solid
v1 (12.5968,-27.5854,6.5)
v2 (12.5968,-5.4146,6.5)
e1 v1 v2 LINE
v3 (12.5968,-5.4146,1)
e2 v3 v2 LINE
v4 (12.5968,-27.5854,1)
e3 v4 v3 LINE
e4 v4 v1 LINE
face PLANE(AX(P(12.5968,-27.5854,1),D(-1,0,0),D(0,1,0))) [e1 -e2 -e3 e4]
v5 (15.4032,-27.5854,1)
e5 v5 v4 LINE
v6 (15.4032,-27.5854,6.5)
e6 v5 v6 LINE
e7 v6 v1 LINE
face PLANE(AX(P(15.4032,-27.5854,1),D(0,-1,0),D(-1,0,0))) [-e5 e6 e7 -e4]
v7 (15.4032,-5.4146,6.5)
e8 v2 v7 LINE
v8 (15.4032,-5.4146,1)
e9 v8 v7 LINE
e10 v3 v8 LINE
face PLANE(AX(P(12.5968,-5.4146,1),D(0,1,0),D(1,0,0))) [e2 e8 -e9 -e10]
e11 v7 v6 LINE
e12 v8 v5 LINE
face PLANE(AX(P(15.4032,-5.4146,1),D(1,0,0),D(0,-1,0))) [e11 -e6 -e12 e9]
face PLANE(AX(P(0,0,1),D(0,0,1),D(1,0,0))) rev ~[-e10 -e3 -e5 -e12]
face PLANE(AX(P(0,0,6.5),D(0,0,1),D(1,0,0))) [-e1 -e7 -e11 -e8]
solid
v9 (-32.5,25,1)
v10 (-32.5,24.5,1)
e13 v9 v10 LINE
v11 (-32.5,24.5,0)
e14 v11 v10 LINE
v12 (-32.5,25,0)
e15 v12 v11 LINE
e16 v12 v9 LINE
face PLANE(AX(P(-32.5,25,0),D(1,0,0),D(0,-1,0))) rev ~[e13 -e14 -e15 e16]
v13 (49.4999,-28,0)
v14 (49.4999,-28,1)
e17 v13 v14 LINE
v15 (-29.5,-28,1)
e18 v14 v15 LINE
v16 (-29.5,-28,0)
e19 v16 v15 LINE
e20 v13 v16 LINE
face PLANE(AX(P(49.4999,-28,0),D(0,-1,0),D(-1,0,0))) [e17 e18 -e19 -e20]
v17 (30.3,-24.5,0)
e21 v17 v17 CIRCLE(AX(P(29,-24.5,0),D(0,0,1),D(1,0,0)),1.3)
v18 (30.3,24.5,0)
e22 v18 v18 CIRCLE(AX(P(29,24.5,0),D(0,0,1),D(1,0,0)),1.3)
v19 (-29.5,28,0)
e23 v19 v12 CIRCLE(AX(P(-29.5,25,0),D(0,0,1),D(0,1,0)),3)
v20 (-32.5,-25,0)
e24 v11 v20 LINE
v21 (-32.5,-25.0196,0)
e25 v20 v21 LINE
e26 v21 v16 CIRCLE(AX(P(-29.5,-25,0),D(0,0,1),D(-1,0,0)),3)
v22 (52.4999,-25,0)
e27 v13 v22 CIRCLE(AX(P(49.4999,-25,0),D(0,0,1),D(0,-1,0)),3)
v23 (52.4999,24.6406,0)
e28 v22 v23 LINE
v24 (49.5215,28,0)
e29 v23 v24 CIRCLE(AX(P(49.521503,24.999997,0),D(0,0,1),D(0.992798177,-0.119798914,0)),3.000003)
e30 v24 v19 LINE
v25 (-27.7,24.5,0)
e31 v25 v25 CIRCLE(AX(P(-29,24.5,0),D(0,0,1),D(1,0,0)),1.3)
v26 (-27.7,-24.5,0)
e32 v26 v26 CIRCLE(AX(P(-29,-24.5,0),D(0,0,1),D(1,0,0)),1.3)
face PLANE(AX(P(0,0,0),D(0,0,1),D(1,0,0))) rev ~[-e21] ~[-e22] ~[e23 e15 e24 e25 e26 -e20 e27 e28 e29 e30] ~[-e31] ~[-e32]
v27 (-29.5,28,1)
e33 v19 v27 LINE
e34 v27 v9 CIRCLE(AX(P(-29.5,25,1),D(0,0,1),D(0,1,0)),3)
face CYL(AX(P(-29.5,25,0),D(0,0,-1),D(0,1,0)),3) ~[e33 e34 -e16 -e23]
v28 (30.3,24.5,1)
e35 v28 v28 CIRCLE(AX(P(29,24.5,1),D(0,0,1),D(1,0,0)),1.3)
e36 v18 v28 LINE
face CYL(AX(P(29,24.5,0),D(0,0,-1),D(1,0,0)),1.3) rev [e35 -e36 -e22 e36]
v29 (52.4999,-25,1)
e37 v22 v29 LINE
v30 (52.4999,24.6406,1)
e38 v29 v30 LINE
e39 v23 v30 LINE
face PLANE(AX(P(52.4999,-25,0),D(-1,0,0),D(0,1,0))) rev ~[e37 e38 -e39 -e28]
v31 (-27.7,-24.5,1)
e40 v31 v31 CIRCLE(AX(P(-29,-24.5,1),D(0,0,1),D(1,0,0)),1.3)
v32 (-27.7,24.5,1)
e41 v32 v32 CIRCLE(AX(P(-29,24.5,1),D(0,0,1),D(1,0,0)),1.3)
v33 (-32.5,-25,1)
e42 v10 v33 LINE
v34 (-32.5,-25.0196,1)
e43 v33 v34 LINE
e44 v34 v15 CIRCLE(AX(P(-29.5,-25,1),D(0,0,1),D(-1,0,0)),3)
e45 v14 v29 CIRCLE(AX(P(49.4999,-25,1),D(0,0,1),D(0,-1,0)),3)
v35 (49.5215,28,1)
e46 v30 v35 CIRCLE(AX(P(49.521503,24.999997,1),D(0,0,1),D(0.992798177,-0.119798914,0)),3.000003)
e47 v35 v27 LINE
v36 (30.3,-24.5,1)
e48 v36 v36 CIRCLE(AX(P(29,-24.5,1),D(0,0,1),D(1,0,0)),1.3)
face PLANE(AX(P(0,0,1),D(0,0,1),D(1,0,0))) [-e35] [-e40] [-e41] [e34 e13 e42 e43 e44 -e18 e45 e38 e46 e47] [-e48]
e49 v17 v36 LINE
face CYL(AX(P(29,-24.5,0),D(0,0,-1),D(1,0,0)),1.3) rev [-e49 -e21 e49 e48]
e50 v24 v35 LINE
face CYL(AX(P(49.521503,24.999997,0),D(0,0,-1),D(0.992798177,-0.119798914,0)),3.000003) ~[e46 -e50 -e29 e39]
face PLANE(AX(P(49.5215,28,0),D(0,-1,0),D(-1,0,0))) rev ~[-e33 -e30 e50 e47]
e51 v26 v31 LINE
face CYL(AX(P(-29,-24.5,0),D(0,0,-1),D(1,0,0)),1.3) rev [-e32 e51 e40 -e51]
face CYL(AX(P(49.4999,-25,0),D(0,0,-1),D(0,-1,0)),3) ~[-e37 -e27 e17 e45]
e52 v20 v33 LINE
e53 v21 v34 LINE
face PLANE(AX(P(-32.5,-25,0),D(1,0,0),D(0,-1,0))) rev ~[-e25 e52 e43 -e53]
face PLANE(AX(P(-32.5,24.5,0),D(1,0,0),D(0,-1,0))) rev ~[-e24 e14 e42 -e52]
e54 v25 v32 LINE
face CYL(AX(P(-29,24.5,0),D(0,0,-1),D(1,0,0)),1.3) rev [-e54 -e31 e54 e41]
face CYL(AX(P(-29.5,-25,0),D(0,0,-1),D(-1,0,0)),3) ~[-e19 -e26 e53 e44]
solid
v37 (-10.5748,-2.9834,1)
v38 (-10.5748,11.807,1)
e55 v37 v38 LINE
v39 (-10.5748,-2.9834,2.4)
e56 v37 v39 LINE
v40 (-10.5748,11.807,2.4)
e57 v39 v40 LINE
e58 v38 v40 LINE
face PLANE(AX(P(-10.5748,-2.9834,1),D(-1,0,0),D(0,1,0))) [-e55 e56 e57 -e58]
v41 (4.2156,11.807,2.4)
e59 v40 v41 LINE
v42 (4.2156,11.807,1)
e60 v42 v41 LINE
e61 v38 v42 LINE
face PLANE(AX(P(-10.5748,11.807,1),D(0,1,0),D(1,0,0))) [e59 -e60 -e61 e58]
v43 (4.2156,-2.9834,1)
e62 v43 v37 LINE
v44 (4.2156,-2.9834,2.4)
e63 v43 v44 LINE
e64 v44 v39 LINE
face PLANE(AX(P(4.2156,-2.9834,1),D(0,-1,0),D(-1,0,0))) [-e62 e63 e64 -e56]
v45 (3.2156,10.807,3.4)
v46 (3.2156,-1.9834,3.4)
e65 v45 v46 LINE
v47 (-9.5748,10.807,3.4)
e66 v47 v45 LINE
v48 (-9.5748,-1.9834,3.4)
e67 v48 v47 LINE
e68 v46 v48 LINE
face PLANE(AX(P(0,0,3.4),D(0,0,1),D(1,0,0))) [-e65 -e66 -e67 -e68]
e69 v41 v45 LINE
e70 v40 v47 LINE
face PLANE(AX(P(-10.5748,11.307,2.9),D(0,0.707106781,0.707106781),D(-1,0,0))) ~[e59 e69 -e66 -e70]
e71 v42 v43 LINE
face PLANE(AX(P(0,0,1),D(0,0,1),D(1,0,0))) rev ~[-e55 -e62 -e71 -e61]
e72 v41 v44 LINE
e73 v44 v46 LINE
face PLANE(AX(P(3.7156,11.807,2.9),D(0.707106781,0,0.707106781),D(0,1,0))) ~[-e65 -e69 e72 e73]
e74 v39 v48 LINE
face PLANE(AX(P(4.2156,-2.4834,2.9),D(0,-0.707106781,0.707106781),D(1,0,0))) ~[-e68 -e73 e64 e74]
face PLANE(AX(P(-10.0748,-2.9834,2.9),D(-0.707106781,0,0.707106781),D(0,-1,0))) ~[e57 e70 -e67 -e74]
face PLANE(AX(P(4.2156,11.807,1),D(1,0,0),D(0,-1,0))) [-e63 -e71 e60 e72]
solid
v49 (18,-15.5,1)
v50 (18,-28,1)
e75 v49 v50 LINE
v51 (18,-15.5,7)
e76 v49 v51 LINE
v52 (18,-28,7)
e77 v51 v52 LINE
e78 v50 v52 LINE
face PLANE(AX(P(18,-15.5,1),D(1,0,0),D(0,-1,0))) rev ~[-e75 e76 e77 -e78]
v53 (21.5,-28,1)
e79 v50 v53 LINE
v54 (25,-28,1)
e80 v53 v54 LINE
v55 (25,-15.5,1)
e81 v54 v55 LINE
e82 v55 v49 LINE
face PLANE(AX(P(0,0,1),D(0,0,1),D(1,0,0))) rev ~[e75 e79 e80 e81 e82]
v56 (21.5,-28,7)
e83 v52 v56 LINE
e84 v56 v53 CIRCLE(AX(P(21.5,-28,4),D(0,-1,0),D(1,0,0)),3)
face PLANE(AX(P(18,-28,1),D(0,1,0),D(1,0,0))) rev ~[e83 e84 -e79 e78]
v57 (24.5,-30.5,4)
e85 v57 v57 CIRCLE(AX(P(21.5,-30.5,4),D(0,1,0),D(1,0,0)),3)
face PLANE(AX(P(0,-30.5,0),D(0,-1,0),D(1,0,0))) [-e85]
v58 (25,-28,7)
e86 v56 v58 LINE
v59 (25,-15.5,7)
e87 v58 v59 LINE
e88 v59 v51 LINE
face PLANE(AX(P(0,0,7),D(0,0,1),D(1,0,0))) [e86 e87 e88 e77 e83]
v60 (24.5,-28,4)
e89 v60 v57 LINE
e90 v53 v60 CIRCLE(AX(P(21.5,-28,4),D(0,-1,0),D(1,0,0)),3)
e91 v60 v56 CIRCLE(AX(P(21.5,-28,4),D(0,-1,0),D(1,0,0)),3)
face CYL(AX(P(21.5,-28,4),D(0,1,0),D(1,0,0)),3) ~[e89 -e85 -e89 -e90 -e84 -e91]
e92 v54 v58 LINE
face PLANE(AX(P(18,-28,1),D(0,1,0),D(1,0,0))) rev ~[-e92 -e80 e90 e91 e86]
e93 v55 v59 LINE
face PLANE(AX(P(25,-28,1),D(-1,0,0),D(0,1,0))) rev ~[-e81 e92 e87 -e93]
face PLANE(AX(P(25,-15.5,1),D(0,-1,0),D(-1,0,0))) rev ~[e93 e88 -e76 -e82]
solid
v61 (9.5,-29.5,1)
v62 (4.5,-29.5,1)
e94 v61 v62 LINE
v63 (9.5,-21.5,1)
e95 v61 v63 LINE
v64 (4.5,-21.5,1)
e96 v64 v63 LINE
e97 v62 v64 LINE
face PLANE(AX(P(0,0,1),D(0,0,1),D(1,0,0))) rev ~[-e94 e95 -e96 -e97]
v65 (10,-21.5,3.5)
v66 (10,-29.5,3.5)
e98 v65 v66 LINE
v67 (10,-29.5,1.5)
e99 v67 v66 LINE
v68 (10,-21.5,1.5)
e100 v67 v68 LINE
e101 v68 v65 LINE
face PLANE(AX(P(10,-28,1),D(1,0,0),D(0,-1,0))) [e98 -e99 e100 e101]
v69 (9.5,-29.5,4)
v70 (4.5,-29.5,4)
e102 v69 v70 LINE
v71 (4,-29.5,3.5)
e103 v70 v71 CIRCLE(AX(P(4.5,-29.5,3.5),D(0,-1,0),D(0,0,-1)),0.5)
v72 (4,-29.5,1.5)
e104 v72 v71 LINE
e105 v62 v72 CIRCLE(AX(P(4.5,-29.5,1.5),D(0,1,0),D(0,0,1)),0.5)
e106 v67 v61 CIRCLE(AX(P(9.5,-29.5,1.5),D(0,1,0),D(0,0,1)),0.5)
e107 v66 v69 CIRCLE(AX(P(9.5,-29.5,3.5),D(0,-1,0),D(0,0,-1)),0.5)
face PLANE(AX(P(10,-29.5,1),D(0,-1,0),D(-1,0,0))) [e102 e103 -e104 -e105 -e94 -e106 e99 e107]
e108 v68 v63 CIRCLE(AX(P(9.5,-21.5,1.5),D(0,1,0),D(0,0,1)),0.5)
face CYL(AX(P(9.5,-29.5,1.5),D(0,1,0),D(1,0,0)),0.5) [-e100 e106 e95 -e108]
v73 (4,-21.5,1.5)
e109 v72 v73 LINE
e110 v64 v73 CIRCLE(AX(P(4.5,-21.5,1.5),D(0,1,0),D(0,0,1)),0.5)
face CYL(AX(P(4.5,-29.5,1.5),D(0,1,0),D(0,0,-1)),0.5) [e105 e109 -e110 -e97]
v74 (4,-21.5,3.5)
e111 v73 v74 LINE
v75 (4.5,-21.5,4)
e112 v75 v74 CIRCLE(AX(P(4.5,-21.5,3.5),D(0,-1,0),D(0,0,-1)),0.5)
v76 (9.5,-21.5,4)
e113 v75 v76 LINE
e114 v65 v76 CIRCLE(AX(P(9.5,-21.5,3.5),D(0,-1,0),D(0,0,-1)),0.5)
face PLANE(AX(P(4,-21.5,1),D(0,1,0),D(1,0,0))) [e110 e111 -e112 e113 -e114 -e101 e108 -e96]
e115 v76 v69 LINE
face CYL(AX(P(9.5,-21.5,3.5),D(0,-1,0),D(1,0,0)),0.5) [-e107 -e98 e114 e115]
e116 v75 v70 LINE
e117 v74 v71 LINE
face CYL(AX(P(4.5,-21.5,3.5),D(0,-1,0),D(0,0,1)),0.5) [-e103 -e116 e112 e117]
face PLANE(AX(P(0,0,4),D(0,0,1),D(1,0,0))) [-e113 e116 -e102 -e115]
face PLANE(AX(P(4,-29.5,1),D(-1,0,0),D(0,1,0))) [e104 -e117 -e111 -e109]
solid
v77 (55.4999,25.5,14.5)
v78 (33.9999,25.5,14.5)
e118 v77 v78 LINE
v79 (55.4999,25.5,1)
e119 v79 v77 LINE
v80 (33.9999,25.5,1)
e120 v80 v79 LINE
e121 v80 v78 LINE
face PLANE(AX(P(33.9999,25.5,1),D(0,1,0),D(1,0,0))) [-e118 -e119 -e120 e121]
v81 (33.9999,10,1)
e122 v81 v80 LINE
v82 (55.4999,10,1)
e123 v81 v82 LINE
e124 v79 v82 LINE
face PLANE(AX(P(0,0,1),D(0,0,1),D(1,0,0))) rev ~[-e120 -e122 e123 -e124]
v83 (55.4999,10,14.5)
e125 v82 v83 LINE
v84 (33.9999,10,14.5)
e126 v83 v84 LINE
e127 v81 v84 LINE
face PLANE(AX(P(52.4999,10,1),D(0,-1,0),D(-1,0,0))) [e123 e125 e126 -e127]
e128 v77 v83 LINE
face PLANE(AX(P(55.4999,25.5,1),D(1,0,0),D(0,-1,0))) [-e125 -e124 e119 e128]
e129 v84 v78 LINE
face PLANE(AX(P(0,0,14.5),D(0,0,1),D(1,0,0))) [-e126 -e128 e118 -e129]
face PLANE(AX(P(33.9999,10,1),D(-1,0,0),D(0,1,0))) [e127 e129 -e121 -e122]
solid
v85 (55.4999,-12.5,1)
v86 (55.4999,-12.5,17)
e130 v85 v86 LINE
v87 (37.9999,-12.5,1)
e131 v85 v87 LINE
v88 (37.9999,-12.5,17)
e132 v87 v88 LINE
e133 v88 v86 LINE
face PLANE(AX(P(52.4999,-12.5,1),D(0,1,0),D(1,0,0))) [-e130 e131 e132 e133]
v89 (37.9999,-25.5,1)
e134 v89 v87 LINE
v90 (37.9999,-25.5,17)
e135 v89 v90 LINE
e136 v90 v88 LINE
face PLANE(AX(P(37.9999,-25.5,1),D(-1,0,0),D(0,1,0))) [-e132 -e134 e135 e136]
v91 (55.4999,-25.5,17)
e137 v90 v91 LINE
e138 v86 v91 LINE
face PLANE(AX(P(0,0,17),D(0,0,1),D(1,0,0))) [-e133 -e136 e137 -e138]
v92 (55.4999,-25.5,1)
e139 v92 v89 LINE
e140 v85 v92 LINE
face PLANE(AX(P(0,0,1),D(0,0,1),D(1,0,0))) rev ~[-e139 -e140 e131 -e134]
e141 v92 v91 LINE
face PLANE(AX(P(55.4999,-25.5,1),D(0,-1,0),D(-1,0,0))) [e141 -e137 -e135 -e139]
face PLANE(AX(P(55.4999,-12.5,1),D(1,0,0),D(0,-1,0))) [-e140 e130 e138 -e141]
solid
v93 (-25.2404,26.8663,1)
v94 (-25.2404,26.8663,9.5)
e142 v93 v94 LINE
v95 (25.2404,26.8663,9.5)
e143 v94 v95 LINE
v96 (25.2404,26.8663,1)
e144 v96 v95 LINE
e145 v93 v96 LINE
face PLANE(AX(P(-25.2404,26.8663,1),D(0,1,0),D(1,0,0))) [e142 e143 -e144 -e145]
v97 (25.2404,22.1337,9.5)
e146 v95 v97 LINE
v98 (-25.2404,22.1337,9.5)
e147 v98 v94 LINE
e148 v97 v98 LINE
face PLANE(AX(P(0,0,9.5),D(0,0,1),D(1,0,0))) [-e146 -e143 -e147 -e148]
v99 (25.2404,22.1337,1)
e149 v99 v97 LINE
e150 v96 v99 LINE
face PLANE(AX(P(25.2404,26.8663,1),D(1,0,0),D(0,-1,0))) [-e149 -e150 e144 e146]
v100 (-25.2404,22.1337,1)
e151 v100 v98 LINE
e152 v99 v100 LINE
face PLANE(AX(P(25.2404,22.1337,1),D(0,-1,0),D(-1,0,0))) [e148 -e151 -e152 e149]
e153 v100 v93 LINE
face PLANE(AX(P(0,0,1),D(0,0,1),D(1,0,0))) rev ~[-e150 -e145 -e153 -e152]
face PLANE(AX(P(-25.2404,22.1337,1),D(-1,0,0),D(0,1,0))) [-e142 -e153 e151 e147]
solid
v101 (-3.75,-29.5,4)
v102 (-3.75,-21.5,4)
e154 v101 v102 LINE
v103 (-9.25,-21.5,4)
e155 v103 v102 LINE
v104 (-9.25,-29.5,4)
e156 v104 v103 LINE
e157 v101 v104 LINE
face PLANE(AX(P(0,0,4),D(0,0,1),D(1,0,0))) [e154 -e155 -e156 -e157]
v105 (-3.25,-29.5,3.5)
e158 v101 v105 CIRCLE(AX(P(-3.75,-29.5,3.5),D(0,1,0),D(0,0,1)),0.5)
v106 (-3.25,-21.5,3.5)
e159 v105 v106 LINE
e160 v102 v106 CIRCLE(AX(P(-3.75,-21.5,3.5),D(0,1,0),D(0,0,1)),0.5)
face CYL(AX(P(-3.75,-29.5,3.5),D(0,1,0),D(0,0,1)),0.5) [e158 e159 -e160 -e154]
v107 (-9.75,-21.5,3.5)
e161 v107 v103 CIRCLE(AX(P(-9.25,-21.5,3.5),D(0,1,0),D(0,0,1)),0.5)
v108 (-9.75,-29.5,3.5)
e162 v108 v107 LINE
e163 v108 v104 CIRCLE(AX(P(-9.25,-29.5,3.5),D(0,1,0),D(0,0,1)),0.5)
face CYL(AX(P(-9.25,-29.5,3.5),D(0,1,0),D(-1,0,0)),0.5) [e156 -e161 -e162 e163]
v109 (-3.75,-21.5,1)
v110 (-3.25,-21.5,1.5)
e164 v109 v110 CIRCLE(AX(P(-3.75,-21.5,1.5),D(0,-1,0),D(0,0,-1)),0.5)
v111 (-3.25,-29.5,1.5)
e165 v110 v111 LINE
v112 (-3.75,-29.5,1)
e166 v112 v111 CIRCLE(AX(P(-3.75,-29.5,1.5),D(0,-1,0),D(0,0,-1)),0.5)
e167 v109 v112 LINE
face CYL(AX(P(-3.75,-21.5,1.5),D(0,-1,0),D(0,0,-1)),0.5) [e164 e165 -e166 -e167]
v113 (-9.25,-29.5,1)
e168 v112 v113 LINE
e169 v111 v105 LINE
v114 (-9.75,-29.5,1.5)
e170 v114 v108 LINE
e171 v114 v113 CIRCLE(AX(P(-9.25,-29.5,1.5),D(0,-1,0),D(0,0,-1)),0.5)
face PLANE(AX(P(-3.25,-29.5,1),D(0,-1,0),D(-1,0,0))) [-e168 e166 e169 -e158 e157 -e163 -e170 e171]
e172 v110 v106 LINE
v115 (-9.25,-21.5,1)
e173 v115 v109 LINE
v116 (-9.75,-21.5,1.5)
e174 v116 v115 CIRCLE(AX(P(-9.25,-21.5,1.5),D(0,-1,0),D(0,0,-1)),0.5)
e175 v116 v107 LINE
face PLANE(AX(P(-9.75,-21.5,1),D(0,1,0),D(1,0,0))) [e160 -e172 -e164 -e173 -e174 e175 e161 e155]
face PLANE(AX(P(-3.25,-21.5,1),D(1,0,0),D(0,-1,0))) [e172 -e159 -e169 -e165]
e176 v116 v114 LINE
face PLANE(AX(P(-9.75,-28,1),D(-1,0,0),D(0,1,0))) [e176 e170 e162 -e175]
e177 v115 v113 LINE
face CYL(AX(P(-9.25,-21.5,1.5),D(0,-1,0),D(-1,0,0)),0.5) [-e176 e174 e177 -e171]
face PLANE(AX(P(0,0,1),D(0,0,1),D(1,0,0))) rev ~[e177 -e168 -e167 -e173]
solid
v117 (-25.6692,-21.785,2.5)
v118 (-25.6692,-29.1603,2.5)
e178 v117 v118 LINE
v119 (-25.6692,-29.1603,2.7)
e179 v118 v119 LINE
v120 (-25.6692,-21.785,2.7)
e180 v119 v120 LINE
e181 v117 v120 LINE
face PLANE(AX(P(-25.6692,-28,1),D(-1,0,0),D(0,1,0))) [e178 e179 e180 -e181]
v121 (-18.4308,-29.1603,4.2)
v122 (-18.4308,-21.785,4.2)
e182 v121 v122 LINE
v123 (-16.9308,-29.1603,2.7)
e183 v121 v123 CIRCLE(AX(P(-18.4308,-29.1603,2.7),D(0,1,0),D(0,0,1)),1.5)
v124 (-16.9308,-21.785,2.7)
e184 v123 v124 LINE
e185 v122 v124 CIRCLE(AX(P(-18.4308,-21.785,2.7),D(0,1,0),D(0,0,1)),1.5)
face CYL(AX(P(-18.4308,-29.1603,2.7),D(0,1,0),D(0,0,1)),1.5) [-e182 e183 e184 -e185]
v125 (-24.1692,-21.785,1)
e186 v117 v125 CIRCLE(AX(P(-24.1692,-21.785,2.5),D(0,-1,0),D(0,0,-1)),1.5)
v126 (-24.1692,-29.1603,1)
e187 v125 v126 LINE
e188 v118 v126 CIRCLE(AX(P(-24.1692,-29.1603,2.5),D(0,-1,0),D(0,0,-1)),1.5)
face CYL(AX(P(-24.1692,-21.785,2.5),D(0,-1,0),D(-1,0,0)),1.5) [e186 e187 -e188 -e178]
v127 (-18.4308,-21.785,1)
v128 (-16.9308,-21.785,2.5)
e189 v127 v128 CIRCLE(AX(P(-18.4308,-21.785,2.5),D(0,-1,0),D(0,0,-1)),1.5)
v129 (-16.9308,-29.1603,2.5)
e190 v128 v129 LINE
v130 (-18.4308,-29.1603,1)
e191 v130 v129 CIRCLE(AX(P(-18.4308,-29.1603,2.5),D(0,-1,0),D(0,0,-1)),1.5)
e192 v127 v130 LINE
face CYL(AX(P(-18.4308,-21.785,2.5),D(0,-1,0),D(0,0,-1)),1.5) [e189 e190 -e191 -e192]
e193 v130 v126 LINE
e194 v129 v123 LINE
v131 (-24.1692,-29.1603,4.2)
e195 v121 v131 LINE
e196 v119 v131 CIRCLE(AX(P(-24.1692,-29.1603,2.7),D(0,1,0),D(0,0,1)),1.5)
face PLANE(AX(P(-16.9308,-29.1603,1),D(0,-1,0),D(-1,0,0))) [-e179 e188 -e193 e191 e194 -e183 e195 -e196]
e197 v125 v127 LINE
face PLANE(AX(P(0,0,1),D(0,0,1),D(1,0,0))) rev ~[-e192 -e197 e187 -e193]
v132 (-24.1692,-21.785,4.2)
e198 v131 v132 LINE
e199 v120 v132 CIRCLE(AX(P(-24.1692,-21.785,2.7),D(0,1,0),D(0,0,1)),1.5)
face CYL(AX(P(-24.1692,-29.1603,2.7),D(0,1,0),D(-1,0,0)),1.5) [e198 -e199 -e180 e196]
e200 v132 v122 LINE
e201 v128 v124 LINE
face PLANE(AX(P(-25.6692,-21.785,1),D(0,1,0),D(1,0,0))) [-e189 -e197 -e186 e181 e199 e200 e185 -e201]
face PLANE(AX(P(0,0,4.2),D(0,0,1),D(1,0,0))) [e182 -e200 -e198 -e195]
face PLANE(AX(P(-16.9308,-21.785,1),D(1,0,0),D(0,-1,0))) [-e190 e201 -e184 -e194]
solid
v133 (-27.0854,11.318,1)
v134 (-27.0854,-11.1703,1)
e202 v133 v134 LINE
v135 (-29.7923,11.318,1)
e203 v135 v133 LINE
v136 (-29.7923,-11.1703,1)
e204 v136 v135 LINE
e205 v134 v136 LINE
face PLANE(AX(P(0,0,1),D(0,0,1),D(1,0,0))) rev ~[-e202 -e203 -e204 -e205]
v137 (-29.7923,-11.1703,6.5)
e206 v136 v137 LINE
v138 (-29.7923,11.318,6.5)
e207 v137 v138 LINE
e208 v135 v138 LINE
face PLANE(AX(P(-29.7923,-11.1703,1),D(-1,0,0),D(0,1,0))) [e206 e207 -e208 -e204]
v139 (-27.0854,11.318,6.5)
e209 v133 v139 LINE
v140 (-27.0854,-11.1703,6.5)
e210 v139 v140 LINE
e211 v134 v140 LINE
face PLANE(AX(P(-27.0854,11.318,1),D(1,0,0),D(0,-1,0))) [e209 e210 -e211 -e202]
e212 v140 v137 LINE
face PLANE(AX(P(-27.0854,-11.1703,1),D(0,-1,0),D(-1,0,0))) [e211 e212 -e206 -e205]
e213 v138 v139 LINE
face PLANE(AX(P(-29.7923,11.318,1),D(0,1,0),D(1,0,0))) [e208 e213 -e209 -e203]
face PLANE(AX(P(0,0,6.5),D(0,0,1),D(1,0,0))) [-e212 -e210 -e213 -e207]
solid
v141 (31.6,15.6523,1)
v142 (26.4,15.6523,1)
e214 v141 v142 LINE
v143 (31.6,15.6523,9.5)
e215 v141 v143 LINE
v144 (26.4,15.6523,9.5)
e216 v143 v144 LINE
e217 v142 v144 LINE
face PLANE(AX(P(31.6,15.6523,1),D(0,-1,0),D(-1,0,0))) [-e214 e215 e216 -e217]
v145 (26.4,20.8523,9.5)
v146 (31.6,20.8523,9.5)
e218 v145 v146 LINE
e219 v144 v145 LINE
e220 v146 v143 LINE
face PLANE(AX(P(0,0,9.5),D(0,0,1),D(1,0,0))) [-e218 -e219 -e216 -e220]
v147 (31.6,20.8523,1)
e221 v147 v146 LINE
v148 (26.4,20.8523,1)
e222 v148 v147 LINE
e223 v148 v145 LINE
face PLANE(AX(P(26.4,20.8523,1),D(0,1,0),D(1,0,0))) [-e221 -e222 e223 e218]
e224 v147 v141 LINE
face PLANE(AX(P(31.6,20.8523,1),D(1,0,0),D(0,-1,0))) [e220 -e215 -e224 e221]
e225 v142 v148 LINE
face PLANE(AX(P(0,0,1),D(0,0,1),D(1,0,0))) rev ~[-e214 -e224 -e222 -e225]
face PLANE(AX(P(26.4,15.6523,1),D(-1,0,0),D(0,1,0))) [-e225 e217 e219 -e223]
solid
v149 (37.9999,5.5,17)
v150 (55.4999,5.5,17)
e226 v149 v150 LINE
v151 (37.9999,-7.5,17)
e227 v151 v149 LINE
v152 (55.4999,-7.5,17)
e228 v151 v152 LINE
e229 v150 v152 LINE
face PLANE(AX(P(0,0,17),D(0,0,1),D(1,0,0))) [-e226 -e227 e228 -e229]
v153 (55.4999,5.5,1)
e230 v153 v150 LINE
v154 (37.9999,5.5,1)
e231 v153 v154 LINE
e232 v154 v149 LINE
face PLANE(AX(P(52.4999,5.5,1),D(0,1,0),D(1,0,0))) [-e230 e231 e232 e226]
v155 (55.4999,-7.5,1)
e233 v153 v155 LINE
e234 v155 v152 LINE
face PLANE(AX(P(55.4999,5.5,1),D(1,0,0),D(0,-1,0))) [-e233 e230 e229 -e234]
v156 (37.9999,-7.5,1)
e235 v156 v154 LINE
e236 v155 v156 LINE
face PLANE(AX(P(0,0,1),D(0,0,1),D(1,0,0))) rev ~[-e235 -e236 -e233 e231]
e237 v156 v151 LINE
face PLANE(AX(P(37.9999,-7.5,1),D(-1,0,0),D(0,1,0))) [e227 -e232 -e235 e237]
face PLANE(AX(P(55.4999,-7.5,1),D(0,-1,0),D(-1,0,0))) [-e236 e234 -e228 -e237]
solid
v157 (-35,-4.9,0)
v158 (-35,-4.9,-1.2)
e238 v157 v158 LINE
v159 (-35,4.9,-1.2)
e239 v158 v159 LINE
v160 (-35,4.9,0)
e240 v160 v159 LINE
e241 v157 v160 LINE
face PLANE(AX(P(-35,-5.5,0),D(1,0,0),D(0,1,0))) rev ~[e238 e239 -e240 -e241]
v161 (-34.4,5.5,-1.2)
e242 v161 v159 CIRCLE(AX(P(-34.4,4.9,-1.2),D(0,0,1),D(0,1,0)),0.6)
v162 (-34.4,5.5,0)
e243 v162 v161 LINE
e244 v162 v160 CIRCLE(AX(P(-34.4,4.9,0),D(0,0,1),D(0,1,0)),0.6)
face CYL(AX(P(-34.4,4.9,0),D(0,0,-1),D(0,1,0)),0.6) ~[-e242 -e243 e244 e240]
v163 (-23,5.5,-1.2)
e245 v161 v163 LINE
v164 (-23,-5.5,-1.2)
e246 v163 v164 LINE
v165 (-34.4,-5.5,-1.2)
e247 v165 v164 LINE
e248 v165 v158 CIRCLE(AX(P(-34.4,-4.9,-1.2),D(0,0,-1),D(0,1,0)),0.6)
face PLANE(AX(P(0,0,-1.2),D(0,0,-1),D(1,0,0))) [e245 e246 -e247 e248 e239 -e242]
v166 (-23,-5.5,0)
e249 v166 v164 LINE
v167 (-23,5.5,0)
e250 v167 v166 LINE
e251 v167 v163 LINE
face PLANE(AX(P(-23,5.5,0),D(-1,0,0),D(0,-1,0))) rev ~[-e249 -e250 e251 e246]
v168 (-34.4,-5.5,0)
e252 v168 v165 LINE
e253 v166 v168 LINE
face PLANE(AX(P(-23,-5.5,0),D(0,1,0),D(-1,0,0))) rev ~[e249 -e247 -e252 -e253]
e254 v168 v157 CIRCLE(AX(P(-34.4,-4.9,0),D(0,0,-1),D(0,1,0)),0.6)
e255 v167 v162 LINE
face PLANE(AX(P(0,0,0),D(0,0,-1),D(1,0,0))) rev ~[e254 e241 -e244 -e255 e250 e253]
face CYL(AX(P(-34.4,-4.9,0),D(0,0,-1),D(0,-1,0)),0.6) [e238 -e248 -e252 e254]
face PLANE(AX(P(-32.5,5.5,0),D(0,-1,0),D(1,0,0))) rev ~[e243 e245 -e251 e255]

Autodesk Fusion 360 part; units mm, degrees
sketch "Skizze4" plane through (0, 0, 0) normal (0, 0, 1) x (1, 0, 0)
  line L0 (52.4999, -25) -> (52.4999, 24.6406)
  line L1 (-32.5, 24.5) -> (-32.5, -25.0196)
  line L2 (49.5215, 28) -> (-29.5, 28)
  line L3 (-32.5, 25) -> (-32.5, 24.5)
  line L4 (49.4999, -28) -> (-29.5, -28)
  line L5 (-32.5, -25) -> (-32.5, -25.0196)
  circle A0 centre (29, 24.5) radius 1.3
  circle A1 centre (29, -24.5) radius 1.3
  circle A2 centre (-29, -24.5) radius 1.3
  circle A3 centre (-29, 24.5) radius 1.3
  arc A4 (-29.5, 28) -> (-32.5, 25) centre (-29.5, 25) ccw
  arc A5 (-32.5, -25) -> (-29.5, -28) centre (-29.5, -25) ccw
  arc A6 (49.4999, -28) -> (52.4999, -25) centre (49.4999, -25) ccw
  arc A7 (52.4999, 24.6406) -> (49.5215, 28) centre (49.5215, 25) ccw
  line L6 (-29, 24.5) -> (29, -24.5) construction
  line L7 (29, 24.5) -> (-29, -24.5) construction
  line L8 (-29, 24.5) -> (-29, -24.5) construction
  line L9 (-29, -24.5) -> (29, -24.5) construction
  line L10 (29, -24.5) -> (29, 24.5) construction
  line L11 (-29, 24.5) -> (29, 24.5) construction
  point P0 (-32.5, 28)
  dimension "d3" = 85
  dimension "d6" = 3.5
  dimension "d11" = 2.6
  dimension "d17" = 3
  dimension "d57" = 49
  dimension "d58" = 58
  dimension "d61" = 56
  dimension "d62" = 3.5
  dimension "d63" = 3.5
extrude "Extrusion7" add sketch "Skizze4" along normal blind 1 makes body 1
copy_body "Körper->Berechn3" bodies 1 removing the originals makes body 2 in component "Baseplate"
sketch "Skizze9" plane through (0, 0, 1) normal (0, 0, 1) x (1, 0, 0)
  arc A0 (52.4999, 24.6406) -> (49.5215, 28) centre (49.5215, 25) ccw
  line L0 (52.4999, -25) -> (52.4999, 24.6406) construction
  line L1 (49.5215, 28) -> (-29.5, 28) construction
  arc A1 (49.4999, -28) -> (52.4999, -25) centre (49.4999, -25) ccw construction
  line L2 (49.4999, -28) -> (-29.5, -28) construction
  circle A2 centre (29, -24.5) radius 1.3
  arc A3 (-29.5, 28) -> (-32.5, 25) centre (-29.5, 25) ccw construction
  line L3 (-32.5, 24.5) -> (-32.5, -25.0196) construction
  arc A4 (-32.5, -25) -> (-29.5, -28) centre (-29.5, -25) ccw construction
  circle A5 centre (29, 24.5) radius 1.3
  circle A6 centre (-29, 24.5) radius 1.3
  circle A7 centre (-29, -24.5) radius 1.3
  line L4 (-32.5, 25) -> (-32.5, 24.5) construction
  circle A8 centre (29, -24.5) radius 1.3
  circle A9 centre (29, 24.5) radius 1.3
  circle A10 centre (-29, -24.5) radius 1.3
  circle A11 centre (-29, 24.5) radius 1.3
  arc A12 (49.4999, -28) -> (52.4999, -25) centre (49.4999, -25) ccw
  line L5 (52.4999, -25) -> (52.4999, 24.6406)
  arc A13 (52.4999, 24.6406) -> (49.5215, 28) centre (49.5215, 25) ccw
  line L6 (49.5215, 28) -> (-29.5, 28)
  arc A14 (-29.5, 28) -> (-32.5, 25) centre (-29.5, 25) ccw
  line L7 (-32.5, 25) -> (-32.5, -25)
  arc A15 (-32.5, -25) -> (-29.5, -28) centre (-29.5, -25) ccw
  line L8 (-29.5, -28) -> (49.4999, -28)
  line L9 (-16.9308, -29.1603) -> (-25.6692, -29.1603)
  line L10 (-25.6692, -29.1603) -> (-25.6692, -21.785)
  line L11 (-25.6692, -21.785) -> (-16.9308, -21.785)
  line L12 (-16.9308, -21.785) -> (-16.9308, -29.1603)
  line L13 (-16.9308, -29.1603) -> (-25.6692, -21.785) construction
  line L14 (-25.6692, -29.1603) -> (-16.9308, -21.785) construction
  line L15 (-3.25, -29.5) -> (-9.75, -29.5)
  line L16 (-9.75, -29.5) -> (-9.75, -21.5)
  line L17 (-9.75, -21.5) -> (-3.25, -21.5)
  line L18 (-3.25, -21.5) -> (-3.25, -29.5)
  line L19 (-3.25, -29.5) -> (-9.75, -21.5) construction
  line L20 (-9.75, -29.5) -> (-3.25, -21.5) construction
  line L21 (10, -29.5) -> (4, -29.5)
  line L22 (4, -29.5) -> (4, -21.5)
  line L23 (4, -21.5) -> (10, -21.5)
  line L24 (10, -21.5) -> (10, -29.5)
  line L25 (10, -29.5) -> (4, -21.5) construction
  line L26 (4, -29.5) -> (10, -21.5) construction
  line L27 (18, -28) -> (25, -28)
  line L28 (25, -28) -> (25, -15.5)
  line L29 (25, -15.5) -> (18, -15.5)
  line L30 (18, -15.5) -> (18, -28)
  line L31 (18, -28) -> (25, -15.5) construction
  line L32 (25, -28) -> (18, -15.5) construction
  line L33 (55.4999, -25.5) -> (37.9999, -25.5)
  line L34 (37.9999, -25.5) -> (37.9999, -12.5)
  line L35 (37.9999, -12.5) -> (55.4999, -12.5)
  line L36 (55.4999, -12.5) -> (55.4999, -25.5)
  line L37 (55.4999, -25.5) -> (37.9999, -12.5) construction
  line L38 (37.9999, -25.5) -> (55.4999, -12.5) construction
  line L39 (55.4999, -7.5) -> (37.9999, -7.5)
  line L40 (37.9999, -7.5) -> (37.9999, 5.5)
  line L41 (37.9999, 5.5) -> (55.4999, 5.5)
  line L42 (55.4999, 5.5) -> (55.4999, -7.5)
  line L43 (55.4999, -7.5) -> (37.9999, 5.5) construction
  line L44 (37.9999, -7.5) -> (55.4999, 5.5) construction
  line L45 (55.4999, 10) -> (33.9999, 10)
  line L46 (33.9999, 10) -> (33.9999, 25.5)
  line L47 (33.9999, 25.5) -> (55.4999, 25.5)
  line L48 (55.4999, 25.5) -> (55.4999, 10)
  line L49 (55.4999, 10) -> (33.9999, 25.5) construction
  line L50 (33.9999, 10) -> (55.4999, 25.5) construction
  line L51 (25.2404, 22.1337) -> (-25.2404, 22.1337)
  line L52 (-25.2404, 22.1337) -> (-25.2404, 26.8663)
  line L53 (-25.2404, 26.8663) -> (25.2404, 26.8663)
  line L54 (25.2404, 26.8663) -> (25.2404, 22.1337)
  line L55 (25.2404, 22.1337) -> (-25.2404, 26.8663) construction
  line L56 (-25.2404, 22.1337) -> (25.2404, 26.8663) construction
  line L57 (-29, 24.5) -> (29, 24.5) construction
  line L58 (-27.0854, -11.1703) -> (-29.7923, -11.1703)
  line L59 (-29.7923, -11.1703) -> (-29.7923, 11.318)
  line L60 (-29.7923, 11.318) -> (-27.0854, 11.318)
  line L61 (-27.0854, 11.318) -> (-27.0854, -11.1703)
  line L62 (-27.0854, -11.1703) -> (-29.7923, 11.318) construction
  line L63 (-29.7923, -11.1703) -> (-27.0854, 11.318) construction
  line L64 (4.2156, -2.9834) -> (-10.5748, -2.9834)
  line L65 (-10.5748, -2.9834) -> (-10.5748, 11.807)
  line L66 (-10.5748, 11.807) -> (4.2156, 11.807)
  line L67 (4.2156, 11.807) -> (4.2156, -2.9834)
  line L68 (4.2156, -2.9834) -> (-10.5748, 11.807) construction
  line L69 (-10.5748, -2.9834) -> (4.2156, 11.807) construction
  line L70 (15.4032, -27.5854) -> (12.5968, -27.5854)
  line L71 (12.5968, -27.5854) -> (12.5968, -5.4146)
  line L72 (12.5968, -5.4146) -> (15.4032, -5.4146)
  line L73 (15.4032, -5.4146) -> (15.4032, -27.5854)
  line L74 (15.4032, -27.5854) -> (12.5968, -5.4146) construction
  line L75 (12.5968, -27.5854) -> (15.4032, -5.4146) construction
  line L76 (-16.614, -8.6626) -> (-24.2715, -8.6626)
  line L77 (-24.2715, -8.6626) -> (-24.2715, -6.5905)
  line L78 (-24.2715, -6.5905) -> (-16.614, -6.5905)
  line L79 (-16.614, -6.5905) -> (-16.614, -8.6626)
  line L80 (-16.614, -8.6626) -> (-24.2715, -6.5905) construction
  line L81 (-24.2715, -8.6626) -> (-16.614, -6.5905) construction
  line L82 (-3.25, -29.5) -> (4, -29.5) construction
  line L83 (-3.25, -21.5) -> (4, -21.5) construction
  line L84 (55.4999, -12.5) -> (55.4999, -7.5) construction
  line L85 (55.4999, 5.5) -> (55.4999, 10) construction
  line L86 (31.6, 15.6523) -> (26.4, 15.6523)
  line L87 (26.4, 15.6523) -> (26.4, 20.8523)
  line L88 (26.4, 20.8523) -> (31.6, 20.8523)
  line L89 (31.6, 20.8523) -> (31.6, 15.6523)
  line L90 (31.6, 15.6523) -> (26.4, 20.8523) construction
  line L91 (26.4, 15.6523) -> (31.6, 20.8523) construction
  point P0 (-21.3, -25.4727)
  point P1 (-6.5, -25.5)
  point P2 (7, -25.5)
  point P3 (21.5, -21.75)
  point P4 (46.7499, -19)
  point P5 (46.7499, -1)
  point P6 (44.7499, 17.75)
  point P7 (0, 24.5)
  point P8 (-28.4388, 0.0739)
  point P9 (-3.1796, 4.4118)
  point P10 (14, -16.5)
  point P11 (-20.4428, -7.6266)
  point P12 (29, 18.2523)
  dimension "d66" = 9
  dimension "d67" = 27
  dimension "d68" = 45.75
  dimension "d69" = 29
  dimension "d70" = 7.7
  dimension "d71" = 14.8
  dimension "d72" = 13.5
  dimension "d73" = 6.5
  dimension "d74" = 6
  dimension "d75" = 8
  dimension "d76" = 17.5
  dimension "d77" = 13
  dimension "d78" = 1.5
  dimension "d79" = 12.5
  dimension "d80" = 7
  dimension "d82" = 7
  dimension "d84" = 7.5
  dimension "d85" = 3
  dimension "d86" = 21.5
  dimension "d87" = 15.5
  dimension "d88" = 5.2
  dimension "d89" = 5.2
  dimension "d90" = 11.5
  dimension "d91" = 17.5
  dimension "d92" = 13
extrude "Extrusion8" add sketch "Skizze9" along normal blind 3.2 separate body contours L8 L10 L11 L12 | L8 L9 L10 L12 makes body 3
extrude "Extrusion9" add sketch "Skizze9" along normal blind 3 separate body contours L8 L16 L17 L18 | L8 L15 L16 L18 | L8 L21 L22 L24 | L8 L22 L23 L24 makes body 4 at (-7.5833, -26.8333, 1) makes body 5 at (6, -24.1667, 1)
extrude "Extrusion10" add sketch "Skizze9" along normal blind 5.5 separate body contours L58 L59 L60 L61 | L70 L71 L72 L73 makes body 6 at (12.5968, -20.1951, 2.8333) makes body 7 at (-29.7923, -3.6742, 2.8333)
extrude "Extrusion11" add sketch "Skizze9" along normal blind 6 separate body contours L8 L27 L28 L29 L30 makes body 8
extrude "Extrusion12" add sketch "Skizze9" along normal blind 16 separate body contours L5 L39 L41 L42 | L5 L39 L40 L41 | A12 L5 L33 L35 L36 | A12 L5 L33 L34 L35 makes body 9 at (43.8332, -12.5, 6.3333) makes body 10 at (43.8332, 5.5, 6.3333)
extrude "Extrusion13" add sketch "Skizze9" along normal blind 13.5 separate body contours A0 L5 A13 L45 L46 L47 | A0 L5 A13 L45 L47 L48 makes body 11
extrude "Extrusion14" add sketch "Skizze9" along normal blind 8.5 separate body contours L51 L52 L53 L54 | L86 L87 L88 L89 makes body 12 at (8.4135, 22.1337, 3.8333) makes body 13 at (26.4, 17.3856, 3.8333)
extrude "Extrusion15" add sketch "Skizze9" along normal blind 2.4 separate body contours L64 L65 L66 L67 makes body 14
sketch "Skizze10" plane through (0, -28, 0) normal (0, -1, 0) x (1, 0, 0)
  line L0 (18, 1) -> (25, 1)
  line L1 (25, 1) -> (25, 7)
  line L2 (25, 7) -> (18, 7)
  line L3 (18, 7) -> (18, 1)
  circle A0 centre (21.5, 4) radius 3
  line L4 (18, 7) -> (25, 1) construction
  line L5 (25, 7) -> (18, 1) construction
extrude "Extrusion16" add sketch "Skizze10" along normal blind 2.5 contours A0 bodies 8
fillet "Abrundung1" radius 1.5 4 edges at (-25.6692, -25.4727, 4.2) (-25.6692, -25.4727, 1) (-16.9308, -25.4727, 4.2) (-16.9308, -25.4727, 1) on bodies 3
chamfer "Fase4" distance 1 angle 45 4 edges at (-10.5748, 4.4118, 3.4) (-3.1796, -2.9834, 3.4) (-3.1796, 11.807, 3.4) (4.2156, 4.4118, 3.4) on bodies 14
fillet "Abrundung2" radius 0.5 8 edges at (-9.75, -25.5, 4) (-3.25, -25.5, 4) (-9.75, -25.5, 1) (-3.25, -25.5, 1) (4, -25.5, 1) (4, -25.5, 4) (10, -25.5, 4) (10, -25.5, 1) on bodies 4 5
copy_body "Körper->Berechn4" bodies 3 removing the originals makes body 15 in component "Power USB C"
copy_body "Körper->Berechn5" bodies 5 removing the originals makes body 16 in component "Micro HDMI 2"
copy_body "Körper->Berechn6" bodies 8 removing the originals makes body 17 in component "3.5 mm Audio"
copy_body "Körper->Berechn7" bodies 4 removing the originals makes body 18 in component "Micro HDMI 1"
copy_body "Körper->Berechn8" bodies 9 removing the originals makes body 19 in component "USB 2.0"
copy_body "Körper->Berechn9" bodies 7 removing the originals makes body 20 in component "Display"
copy_body "Körper->Berechn10" bodies 14 removing the originals makes body 21 in component "Processor"
copy_body "Körper->Berechn11" bodies 11 removing the originals makes body 22 in component "Ethernet "
copy_body "Körper->Berechn12" bodies 6 removing the originals makes body 23 in component "Kamera"
copy_body "Körper->Berechn13" bodies 12 removing the originals makes body 24 in component "GPIO 40"
copy_body "Körper->Berechn14" bodies 10 removing the originals makes body 25 in component "USB 3.0"
copy_body "Körper->Berechn15" bodies 13 removing the originals makes body 26 in component "PoE"
sketch "Skizze11" plane through (0, 0, 0) normal (0, 0, -1) x (1, 0, 0)
  circle A0 centre (29, 24.5) radius 1.3
  circle A1 centre (-29, 24.5) radius 1.3
  circle A2 centre (-29, -24.5) radius 1.3
  circle A3 centre (29, -24.5) radius 1.3
  arc A4 (52.4999, 25) -> (49.4999, 28) centre (49.4999, 25) ccw
  line L0 (49.4999, 28) -> (-29.5, 28)
  arc A5 (-29.5, 28) -> (-32.5, 25) centre (-29.5, 25) ccw
  line L1 (-32.5, 25) -> (-32.5, -25)
  arc A6 (-32.5, -25) -> (-29.5, -28) centre (-29.5, -25) ccw
  line L2 (-29.5, -28) -> (49.5215, -28)
  arc A7 (49.5215, -28) -> (52.4999, -24.6406) centre (49.5215, -25) ccw
  line L3 (52.4999, -24.6406) -> (52.4999, 25)
  line L4 (-29, 24.5) -> (-29, -24.5) construction
  line L5 (-23, 5.5) -> (-35, 5.5)
  line L6 (-35, 5.5) -> (-35, -5.5)
  line L7 (-35, -5.5) -> (-23, -5.5)
  line L8 (-23, -5.5) -> (-23, 5.5)
  line L9 (-23, 5.5) -> (-35, -5.5) construction
  line L10 (-35, 5.5) -> (-23, -5.5) construction
  point P0 (-29, 0)
  dimension "d114" = 11
  dimension "d115" = 12
extrude "Extrusion1" add sketch "Skizze11" along normal blind 1.2 separate body contours L1 L5 L7 L8 | L1 L5 L6 L7 makes body 27 in component "Baseplate"
fillet "Abrundung1'" radius 0.6 2 edges at (-35, 5.5, -0.6) (-35, -5.5, -0.6) on bodies 27 in component "Baseplate"
component "Baseplate" placed x (1, 0, 0) y (0, 1, 0) z (0, 0, 1) at (0, 0, 0)
component "Power USB C" placed x (1, 0, 0) y (0, 1, 0) z (0, 0, 1) at (0, 0, 0)
component "Micro HDMI 2" placed x (1, 0, 0) y (0, 1, 0) z (0, 0, 1) at (0, 0, 0)
component "3.5 mm Audio" placed x (1, 0, 0) y (0, 1, 0) z (0, 0, 1) at (0, 0, 0)
component "Micro HDMI 1" placed x (1, 0, 0) y (0, 1, 0) z (0, 0, 1) at (0, 0, 0)
component "USB 2.0" placed x (1, 0, 0) y (0, 1, 0) z (0, 0, 1) at (0, 0, 0)
component "Display" placed x (1, 0, 0) y (0, 1, 0) z (0, 0, 1) at (0, 0, 0)
component "Processor" placed x (1, 0, 0) y (0, 1, 0) z (0, 0, 1) at (0, 0, 0)
component "Ethernet " placed x (1, 0, 0) y (0, 1, 0) z (0, 0, 1) at (0, 0, 0)
component "Kamera" placed x (1, 0, 0) y (0, 1, 0) z (0, 0, 1) at (0, 0, 0)
component "GPIO 40" placed x (1, 0, 0) y (0, 1, 0) z (0, 0, 1) at (0, 0, 0)
component "USB 3.0" placed x (1, 0, 0) y (0, 1, 0) z (0, 0, 1) at (0, 0, 0)
component "PoE" placed x (1, 0, 0) y (0, 1, 0) z (0, 0, 1) at (0, 0, 0)
equation "d91 = d76"
equation "d92 = d77"
